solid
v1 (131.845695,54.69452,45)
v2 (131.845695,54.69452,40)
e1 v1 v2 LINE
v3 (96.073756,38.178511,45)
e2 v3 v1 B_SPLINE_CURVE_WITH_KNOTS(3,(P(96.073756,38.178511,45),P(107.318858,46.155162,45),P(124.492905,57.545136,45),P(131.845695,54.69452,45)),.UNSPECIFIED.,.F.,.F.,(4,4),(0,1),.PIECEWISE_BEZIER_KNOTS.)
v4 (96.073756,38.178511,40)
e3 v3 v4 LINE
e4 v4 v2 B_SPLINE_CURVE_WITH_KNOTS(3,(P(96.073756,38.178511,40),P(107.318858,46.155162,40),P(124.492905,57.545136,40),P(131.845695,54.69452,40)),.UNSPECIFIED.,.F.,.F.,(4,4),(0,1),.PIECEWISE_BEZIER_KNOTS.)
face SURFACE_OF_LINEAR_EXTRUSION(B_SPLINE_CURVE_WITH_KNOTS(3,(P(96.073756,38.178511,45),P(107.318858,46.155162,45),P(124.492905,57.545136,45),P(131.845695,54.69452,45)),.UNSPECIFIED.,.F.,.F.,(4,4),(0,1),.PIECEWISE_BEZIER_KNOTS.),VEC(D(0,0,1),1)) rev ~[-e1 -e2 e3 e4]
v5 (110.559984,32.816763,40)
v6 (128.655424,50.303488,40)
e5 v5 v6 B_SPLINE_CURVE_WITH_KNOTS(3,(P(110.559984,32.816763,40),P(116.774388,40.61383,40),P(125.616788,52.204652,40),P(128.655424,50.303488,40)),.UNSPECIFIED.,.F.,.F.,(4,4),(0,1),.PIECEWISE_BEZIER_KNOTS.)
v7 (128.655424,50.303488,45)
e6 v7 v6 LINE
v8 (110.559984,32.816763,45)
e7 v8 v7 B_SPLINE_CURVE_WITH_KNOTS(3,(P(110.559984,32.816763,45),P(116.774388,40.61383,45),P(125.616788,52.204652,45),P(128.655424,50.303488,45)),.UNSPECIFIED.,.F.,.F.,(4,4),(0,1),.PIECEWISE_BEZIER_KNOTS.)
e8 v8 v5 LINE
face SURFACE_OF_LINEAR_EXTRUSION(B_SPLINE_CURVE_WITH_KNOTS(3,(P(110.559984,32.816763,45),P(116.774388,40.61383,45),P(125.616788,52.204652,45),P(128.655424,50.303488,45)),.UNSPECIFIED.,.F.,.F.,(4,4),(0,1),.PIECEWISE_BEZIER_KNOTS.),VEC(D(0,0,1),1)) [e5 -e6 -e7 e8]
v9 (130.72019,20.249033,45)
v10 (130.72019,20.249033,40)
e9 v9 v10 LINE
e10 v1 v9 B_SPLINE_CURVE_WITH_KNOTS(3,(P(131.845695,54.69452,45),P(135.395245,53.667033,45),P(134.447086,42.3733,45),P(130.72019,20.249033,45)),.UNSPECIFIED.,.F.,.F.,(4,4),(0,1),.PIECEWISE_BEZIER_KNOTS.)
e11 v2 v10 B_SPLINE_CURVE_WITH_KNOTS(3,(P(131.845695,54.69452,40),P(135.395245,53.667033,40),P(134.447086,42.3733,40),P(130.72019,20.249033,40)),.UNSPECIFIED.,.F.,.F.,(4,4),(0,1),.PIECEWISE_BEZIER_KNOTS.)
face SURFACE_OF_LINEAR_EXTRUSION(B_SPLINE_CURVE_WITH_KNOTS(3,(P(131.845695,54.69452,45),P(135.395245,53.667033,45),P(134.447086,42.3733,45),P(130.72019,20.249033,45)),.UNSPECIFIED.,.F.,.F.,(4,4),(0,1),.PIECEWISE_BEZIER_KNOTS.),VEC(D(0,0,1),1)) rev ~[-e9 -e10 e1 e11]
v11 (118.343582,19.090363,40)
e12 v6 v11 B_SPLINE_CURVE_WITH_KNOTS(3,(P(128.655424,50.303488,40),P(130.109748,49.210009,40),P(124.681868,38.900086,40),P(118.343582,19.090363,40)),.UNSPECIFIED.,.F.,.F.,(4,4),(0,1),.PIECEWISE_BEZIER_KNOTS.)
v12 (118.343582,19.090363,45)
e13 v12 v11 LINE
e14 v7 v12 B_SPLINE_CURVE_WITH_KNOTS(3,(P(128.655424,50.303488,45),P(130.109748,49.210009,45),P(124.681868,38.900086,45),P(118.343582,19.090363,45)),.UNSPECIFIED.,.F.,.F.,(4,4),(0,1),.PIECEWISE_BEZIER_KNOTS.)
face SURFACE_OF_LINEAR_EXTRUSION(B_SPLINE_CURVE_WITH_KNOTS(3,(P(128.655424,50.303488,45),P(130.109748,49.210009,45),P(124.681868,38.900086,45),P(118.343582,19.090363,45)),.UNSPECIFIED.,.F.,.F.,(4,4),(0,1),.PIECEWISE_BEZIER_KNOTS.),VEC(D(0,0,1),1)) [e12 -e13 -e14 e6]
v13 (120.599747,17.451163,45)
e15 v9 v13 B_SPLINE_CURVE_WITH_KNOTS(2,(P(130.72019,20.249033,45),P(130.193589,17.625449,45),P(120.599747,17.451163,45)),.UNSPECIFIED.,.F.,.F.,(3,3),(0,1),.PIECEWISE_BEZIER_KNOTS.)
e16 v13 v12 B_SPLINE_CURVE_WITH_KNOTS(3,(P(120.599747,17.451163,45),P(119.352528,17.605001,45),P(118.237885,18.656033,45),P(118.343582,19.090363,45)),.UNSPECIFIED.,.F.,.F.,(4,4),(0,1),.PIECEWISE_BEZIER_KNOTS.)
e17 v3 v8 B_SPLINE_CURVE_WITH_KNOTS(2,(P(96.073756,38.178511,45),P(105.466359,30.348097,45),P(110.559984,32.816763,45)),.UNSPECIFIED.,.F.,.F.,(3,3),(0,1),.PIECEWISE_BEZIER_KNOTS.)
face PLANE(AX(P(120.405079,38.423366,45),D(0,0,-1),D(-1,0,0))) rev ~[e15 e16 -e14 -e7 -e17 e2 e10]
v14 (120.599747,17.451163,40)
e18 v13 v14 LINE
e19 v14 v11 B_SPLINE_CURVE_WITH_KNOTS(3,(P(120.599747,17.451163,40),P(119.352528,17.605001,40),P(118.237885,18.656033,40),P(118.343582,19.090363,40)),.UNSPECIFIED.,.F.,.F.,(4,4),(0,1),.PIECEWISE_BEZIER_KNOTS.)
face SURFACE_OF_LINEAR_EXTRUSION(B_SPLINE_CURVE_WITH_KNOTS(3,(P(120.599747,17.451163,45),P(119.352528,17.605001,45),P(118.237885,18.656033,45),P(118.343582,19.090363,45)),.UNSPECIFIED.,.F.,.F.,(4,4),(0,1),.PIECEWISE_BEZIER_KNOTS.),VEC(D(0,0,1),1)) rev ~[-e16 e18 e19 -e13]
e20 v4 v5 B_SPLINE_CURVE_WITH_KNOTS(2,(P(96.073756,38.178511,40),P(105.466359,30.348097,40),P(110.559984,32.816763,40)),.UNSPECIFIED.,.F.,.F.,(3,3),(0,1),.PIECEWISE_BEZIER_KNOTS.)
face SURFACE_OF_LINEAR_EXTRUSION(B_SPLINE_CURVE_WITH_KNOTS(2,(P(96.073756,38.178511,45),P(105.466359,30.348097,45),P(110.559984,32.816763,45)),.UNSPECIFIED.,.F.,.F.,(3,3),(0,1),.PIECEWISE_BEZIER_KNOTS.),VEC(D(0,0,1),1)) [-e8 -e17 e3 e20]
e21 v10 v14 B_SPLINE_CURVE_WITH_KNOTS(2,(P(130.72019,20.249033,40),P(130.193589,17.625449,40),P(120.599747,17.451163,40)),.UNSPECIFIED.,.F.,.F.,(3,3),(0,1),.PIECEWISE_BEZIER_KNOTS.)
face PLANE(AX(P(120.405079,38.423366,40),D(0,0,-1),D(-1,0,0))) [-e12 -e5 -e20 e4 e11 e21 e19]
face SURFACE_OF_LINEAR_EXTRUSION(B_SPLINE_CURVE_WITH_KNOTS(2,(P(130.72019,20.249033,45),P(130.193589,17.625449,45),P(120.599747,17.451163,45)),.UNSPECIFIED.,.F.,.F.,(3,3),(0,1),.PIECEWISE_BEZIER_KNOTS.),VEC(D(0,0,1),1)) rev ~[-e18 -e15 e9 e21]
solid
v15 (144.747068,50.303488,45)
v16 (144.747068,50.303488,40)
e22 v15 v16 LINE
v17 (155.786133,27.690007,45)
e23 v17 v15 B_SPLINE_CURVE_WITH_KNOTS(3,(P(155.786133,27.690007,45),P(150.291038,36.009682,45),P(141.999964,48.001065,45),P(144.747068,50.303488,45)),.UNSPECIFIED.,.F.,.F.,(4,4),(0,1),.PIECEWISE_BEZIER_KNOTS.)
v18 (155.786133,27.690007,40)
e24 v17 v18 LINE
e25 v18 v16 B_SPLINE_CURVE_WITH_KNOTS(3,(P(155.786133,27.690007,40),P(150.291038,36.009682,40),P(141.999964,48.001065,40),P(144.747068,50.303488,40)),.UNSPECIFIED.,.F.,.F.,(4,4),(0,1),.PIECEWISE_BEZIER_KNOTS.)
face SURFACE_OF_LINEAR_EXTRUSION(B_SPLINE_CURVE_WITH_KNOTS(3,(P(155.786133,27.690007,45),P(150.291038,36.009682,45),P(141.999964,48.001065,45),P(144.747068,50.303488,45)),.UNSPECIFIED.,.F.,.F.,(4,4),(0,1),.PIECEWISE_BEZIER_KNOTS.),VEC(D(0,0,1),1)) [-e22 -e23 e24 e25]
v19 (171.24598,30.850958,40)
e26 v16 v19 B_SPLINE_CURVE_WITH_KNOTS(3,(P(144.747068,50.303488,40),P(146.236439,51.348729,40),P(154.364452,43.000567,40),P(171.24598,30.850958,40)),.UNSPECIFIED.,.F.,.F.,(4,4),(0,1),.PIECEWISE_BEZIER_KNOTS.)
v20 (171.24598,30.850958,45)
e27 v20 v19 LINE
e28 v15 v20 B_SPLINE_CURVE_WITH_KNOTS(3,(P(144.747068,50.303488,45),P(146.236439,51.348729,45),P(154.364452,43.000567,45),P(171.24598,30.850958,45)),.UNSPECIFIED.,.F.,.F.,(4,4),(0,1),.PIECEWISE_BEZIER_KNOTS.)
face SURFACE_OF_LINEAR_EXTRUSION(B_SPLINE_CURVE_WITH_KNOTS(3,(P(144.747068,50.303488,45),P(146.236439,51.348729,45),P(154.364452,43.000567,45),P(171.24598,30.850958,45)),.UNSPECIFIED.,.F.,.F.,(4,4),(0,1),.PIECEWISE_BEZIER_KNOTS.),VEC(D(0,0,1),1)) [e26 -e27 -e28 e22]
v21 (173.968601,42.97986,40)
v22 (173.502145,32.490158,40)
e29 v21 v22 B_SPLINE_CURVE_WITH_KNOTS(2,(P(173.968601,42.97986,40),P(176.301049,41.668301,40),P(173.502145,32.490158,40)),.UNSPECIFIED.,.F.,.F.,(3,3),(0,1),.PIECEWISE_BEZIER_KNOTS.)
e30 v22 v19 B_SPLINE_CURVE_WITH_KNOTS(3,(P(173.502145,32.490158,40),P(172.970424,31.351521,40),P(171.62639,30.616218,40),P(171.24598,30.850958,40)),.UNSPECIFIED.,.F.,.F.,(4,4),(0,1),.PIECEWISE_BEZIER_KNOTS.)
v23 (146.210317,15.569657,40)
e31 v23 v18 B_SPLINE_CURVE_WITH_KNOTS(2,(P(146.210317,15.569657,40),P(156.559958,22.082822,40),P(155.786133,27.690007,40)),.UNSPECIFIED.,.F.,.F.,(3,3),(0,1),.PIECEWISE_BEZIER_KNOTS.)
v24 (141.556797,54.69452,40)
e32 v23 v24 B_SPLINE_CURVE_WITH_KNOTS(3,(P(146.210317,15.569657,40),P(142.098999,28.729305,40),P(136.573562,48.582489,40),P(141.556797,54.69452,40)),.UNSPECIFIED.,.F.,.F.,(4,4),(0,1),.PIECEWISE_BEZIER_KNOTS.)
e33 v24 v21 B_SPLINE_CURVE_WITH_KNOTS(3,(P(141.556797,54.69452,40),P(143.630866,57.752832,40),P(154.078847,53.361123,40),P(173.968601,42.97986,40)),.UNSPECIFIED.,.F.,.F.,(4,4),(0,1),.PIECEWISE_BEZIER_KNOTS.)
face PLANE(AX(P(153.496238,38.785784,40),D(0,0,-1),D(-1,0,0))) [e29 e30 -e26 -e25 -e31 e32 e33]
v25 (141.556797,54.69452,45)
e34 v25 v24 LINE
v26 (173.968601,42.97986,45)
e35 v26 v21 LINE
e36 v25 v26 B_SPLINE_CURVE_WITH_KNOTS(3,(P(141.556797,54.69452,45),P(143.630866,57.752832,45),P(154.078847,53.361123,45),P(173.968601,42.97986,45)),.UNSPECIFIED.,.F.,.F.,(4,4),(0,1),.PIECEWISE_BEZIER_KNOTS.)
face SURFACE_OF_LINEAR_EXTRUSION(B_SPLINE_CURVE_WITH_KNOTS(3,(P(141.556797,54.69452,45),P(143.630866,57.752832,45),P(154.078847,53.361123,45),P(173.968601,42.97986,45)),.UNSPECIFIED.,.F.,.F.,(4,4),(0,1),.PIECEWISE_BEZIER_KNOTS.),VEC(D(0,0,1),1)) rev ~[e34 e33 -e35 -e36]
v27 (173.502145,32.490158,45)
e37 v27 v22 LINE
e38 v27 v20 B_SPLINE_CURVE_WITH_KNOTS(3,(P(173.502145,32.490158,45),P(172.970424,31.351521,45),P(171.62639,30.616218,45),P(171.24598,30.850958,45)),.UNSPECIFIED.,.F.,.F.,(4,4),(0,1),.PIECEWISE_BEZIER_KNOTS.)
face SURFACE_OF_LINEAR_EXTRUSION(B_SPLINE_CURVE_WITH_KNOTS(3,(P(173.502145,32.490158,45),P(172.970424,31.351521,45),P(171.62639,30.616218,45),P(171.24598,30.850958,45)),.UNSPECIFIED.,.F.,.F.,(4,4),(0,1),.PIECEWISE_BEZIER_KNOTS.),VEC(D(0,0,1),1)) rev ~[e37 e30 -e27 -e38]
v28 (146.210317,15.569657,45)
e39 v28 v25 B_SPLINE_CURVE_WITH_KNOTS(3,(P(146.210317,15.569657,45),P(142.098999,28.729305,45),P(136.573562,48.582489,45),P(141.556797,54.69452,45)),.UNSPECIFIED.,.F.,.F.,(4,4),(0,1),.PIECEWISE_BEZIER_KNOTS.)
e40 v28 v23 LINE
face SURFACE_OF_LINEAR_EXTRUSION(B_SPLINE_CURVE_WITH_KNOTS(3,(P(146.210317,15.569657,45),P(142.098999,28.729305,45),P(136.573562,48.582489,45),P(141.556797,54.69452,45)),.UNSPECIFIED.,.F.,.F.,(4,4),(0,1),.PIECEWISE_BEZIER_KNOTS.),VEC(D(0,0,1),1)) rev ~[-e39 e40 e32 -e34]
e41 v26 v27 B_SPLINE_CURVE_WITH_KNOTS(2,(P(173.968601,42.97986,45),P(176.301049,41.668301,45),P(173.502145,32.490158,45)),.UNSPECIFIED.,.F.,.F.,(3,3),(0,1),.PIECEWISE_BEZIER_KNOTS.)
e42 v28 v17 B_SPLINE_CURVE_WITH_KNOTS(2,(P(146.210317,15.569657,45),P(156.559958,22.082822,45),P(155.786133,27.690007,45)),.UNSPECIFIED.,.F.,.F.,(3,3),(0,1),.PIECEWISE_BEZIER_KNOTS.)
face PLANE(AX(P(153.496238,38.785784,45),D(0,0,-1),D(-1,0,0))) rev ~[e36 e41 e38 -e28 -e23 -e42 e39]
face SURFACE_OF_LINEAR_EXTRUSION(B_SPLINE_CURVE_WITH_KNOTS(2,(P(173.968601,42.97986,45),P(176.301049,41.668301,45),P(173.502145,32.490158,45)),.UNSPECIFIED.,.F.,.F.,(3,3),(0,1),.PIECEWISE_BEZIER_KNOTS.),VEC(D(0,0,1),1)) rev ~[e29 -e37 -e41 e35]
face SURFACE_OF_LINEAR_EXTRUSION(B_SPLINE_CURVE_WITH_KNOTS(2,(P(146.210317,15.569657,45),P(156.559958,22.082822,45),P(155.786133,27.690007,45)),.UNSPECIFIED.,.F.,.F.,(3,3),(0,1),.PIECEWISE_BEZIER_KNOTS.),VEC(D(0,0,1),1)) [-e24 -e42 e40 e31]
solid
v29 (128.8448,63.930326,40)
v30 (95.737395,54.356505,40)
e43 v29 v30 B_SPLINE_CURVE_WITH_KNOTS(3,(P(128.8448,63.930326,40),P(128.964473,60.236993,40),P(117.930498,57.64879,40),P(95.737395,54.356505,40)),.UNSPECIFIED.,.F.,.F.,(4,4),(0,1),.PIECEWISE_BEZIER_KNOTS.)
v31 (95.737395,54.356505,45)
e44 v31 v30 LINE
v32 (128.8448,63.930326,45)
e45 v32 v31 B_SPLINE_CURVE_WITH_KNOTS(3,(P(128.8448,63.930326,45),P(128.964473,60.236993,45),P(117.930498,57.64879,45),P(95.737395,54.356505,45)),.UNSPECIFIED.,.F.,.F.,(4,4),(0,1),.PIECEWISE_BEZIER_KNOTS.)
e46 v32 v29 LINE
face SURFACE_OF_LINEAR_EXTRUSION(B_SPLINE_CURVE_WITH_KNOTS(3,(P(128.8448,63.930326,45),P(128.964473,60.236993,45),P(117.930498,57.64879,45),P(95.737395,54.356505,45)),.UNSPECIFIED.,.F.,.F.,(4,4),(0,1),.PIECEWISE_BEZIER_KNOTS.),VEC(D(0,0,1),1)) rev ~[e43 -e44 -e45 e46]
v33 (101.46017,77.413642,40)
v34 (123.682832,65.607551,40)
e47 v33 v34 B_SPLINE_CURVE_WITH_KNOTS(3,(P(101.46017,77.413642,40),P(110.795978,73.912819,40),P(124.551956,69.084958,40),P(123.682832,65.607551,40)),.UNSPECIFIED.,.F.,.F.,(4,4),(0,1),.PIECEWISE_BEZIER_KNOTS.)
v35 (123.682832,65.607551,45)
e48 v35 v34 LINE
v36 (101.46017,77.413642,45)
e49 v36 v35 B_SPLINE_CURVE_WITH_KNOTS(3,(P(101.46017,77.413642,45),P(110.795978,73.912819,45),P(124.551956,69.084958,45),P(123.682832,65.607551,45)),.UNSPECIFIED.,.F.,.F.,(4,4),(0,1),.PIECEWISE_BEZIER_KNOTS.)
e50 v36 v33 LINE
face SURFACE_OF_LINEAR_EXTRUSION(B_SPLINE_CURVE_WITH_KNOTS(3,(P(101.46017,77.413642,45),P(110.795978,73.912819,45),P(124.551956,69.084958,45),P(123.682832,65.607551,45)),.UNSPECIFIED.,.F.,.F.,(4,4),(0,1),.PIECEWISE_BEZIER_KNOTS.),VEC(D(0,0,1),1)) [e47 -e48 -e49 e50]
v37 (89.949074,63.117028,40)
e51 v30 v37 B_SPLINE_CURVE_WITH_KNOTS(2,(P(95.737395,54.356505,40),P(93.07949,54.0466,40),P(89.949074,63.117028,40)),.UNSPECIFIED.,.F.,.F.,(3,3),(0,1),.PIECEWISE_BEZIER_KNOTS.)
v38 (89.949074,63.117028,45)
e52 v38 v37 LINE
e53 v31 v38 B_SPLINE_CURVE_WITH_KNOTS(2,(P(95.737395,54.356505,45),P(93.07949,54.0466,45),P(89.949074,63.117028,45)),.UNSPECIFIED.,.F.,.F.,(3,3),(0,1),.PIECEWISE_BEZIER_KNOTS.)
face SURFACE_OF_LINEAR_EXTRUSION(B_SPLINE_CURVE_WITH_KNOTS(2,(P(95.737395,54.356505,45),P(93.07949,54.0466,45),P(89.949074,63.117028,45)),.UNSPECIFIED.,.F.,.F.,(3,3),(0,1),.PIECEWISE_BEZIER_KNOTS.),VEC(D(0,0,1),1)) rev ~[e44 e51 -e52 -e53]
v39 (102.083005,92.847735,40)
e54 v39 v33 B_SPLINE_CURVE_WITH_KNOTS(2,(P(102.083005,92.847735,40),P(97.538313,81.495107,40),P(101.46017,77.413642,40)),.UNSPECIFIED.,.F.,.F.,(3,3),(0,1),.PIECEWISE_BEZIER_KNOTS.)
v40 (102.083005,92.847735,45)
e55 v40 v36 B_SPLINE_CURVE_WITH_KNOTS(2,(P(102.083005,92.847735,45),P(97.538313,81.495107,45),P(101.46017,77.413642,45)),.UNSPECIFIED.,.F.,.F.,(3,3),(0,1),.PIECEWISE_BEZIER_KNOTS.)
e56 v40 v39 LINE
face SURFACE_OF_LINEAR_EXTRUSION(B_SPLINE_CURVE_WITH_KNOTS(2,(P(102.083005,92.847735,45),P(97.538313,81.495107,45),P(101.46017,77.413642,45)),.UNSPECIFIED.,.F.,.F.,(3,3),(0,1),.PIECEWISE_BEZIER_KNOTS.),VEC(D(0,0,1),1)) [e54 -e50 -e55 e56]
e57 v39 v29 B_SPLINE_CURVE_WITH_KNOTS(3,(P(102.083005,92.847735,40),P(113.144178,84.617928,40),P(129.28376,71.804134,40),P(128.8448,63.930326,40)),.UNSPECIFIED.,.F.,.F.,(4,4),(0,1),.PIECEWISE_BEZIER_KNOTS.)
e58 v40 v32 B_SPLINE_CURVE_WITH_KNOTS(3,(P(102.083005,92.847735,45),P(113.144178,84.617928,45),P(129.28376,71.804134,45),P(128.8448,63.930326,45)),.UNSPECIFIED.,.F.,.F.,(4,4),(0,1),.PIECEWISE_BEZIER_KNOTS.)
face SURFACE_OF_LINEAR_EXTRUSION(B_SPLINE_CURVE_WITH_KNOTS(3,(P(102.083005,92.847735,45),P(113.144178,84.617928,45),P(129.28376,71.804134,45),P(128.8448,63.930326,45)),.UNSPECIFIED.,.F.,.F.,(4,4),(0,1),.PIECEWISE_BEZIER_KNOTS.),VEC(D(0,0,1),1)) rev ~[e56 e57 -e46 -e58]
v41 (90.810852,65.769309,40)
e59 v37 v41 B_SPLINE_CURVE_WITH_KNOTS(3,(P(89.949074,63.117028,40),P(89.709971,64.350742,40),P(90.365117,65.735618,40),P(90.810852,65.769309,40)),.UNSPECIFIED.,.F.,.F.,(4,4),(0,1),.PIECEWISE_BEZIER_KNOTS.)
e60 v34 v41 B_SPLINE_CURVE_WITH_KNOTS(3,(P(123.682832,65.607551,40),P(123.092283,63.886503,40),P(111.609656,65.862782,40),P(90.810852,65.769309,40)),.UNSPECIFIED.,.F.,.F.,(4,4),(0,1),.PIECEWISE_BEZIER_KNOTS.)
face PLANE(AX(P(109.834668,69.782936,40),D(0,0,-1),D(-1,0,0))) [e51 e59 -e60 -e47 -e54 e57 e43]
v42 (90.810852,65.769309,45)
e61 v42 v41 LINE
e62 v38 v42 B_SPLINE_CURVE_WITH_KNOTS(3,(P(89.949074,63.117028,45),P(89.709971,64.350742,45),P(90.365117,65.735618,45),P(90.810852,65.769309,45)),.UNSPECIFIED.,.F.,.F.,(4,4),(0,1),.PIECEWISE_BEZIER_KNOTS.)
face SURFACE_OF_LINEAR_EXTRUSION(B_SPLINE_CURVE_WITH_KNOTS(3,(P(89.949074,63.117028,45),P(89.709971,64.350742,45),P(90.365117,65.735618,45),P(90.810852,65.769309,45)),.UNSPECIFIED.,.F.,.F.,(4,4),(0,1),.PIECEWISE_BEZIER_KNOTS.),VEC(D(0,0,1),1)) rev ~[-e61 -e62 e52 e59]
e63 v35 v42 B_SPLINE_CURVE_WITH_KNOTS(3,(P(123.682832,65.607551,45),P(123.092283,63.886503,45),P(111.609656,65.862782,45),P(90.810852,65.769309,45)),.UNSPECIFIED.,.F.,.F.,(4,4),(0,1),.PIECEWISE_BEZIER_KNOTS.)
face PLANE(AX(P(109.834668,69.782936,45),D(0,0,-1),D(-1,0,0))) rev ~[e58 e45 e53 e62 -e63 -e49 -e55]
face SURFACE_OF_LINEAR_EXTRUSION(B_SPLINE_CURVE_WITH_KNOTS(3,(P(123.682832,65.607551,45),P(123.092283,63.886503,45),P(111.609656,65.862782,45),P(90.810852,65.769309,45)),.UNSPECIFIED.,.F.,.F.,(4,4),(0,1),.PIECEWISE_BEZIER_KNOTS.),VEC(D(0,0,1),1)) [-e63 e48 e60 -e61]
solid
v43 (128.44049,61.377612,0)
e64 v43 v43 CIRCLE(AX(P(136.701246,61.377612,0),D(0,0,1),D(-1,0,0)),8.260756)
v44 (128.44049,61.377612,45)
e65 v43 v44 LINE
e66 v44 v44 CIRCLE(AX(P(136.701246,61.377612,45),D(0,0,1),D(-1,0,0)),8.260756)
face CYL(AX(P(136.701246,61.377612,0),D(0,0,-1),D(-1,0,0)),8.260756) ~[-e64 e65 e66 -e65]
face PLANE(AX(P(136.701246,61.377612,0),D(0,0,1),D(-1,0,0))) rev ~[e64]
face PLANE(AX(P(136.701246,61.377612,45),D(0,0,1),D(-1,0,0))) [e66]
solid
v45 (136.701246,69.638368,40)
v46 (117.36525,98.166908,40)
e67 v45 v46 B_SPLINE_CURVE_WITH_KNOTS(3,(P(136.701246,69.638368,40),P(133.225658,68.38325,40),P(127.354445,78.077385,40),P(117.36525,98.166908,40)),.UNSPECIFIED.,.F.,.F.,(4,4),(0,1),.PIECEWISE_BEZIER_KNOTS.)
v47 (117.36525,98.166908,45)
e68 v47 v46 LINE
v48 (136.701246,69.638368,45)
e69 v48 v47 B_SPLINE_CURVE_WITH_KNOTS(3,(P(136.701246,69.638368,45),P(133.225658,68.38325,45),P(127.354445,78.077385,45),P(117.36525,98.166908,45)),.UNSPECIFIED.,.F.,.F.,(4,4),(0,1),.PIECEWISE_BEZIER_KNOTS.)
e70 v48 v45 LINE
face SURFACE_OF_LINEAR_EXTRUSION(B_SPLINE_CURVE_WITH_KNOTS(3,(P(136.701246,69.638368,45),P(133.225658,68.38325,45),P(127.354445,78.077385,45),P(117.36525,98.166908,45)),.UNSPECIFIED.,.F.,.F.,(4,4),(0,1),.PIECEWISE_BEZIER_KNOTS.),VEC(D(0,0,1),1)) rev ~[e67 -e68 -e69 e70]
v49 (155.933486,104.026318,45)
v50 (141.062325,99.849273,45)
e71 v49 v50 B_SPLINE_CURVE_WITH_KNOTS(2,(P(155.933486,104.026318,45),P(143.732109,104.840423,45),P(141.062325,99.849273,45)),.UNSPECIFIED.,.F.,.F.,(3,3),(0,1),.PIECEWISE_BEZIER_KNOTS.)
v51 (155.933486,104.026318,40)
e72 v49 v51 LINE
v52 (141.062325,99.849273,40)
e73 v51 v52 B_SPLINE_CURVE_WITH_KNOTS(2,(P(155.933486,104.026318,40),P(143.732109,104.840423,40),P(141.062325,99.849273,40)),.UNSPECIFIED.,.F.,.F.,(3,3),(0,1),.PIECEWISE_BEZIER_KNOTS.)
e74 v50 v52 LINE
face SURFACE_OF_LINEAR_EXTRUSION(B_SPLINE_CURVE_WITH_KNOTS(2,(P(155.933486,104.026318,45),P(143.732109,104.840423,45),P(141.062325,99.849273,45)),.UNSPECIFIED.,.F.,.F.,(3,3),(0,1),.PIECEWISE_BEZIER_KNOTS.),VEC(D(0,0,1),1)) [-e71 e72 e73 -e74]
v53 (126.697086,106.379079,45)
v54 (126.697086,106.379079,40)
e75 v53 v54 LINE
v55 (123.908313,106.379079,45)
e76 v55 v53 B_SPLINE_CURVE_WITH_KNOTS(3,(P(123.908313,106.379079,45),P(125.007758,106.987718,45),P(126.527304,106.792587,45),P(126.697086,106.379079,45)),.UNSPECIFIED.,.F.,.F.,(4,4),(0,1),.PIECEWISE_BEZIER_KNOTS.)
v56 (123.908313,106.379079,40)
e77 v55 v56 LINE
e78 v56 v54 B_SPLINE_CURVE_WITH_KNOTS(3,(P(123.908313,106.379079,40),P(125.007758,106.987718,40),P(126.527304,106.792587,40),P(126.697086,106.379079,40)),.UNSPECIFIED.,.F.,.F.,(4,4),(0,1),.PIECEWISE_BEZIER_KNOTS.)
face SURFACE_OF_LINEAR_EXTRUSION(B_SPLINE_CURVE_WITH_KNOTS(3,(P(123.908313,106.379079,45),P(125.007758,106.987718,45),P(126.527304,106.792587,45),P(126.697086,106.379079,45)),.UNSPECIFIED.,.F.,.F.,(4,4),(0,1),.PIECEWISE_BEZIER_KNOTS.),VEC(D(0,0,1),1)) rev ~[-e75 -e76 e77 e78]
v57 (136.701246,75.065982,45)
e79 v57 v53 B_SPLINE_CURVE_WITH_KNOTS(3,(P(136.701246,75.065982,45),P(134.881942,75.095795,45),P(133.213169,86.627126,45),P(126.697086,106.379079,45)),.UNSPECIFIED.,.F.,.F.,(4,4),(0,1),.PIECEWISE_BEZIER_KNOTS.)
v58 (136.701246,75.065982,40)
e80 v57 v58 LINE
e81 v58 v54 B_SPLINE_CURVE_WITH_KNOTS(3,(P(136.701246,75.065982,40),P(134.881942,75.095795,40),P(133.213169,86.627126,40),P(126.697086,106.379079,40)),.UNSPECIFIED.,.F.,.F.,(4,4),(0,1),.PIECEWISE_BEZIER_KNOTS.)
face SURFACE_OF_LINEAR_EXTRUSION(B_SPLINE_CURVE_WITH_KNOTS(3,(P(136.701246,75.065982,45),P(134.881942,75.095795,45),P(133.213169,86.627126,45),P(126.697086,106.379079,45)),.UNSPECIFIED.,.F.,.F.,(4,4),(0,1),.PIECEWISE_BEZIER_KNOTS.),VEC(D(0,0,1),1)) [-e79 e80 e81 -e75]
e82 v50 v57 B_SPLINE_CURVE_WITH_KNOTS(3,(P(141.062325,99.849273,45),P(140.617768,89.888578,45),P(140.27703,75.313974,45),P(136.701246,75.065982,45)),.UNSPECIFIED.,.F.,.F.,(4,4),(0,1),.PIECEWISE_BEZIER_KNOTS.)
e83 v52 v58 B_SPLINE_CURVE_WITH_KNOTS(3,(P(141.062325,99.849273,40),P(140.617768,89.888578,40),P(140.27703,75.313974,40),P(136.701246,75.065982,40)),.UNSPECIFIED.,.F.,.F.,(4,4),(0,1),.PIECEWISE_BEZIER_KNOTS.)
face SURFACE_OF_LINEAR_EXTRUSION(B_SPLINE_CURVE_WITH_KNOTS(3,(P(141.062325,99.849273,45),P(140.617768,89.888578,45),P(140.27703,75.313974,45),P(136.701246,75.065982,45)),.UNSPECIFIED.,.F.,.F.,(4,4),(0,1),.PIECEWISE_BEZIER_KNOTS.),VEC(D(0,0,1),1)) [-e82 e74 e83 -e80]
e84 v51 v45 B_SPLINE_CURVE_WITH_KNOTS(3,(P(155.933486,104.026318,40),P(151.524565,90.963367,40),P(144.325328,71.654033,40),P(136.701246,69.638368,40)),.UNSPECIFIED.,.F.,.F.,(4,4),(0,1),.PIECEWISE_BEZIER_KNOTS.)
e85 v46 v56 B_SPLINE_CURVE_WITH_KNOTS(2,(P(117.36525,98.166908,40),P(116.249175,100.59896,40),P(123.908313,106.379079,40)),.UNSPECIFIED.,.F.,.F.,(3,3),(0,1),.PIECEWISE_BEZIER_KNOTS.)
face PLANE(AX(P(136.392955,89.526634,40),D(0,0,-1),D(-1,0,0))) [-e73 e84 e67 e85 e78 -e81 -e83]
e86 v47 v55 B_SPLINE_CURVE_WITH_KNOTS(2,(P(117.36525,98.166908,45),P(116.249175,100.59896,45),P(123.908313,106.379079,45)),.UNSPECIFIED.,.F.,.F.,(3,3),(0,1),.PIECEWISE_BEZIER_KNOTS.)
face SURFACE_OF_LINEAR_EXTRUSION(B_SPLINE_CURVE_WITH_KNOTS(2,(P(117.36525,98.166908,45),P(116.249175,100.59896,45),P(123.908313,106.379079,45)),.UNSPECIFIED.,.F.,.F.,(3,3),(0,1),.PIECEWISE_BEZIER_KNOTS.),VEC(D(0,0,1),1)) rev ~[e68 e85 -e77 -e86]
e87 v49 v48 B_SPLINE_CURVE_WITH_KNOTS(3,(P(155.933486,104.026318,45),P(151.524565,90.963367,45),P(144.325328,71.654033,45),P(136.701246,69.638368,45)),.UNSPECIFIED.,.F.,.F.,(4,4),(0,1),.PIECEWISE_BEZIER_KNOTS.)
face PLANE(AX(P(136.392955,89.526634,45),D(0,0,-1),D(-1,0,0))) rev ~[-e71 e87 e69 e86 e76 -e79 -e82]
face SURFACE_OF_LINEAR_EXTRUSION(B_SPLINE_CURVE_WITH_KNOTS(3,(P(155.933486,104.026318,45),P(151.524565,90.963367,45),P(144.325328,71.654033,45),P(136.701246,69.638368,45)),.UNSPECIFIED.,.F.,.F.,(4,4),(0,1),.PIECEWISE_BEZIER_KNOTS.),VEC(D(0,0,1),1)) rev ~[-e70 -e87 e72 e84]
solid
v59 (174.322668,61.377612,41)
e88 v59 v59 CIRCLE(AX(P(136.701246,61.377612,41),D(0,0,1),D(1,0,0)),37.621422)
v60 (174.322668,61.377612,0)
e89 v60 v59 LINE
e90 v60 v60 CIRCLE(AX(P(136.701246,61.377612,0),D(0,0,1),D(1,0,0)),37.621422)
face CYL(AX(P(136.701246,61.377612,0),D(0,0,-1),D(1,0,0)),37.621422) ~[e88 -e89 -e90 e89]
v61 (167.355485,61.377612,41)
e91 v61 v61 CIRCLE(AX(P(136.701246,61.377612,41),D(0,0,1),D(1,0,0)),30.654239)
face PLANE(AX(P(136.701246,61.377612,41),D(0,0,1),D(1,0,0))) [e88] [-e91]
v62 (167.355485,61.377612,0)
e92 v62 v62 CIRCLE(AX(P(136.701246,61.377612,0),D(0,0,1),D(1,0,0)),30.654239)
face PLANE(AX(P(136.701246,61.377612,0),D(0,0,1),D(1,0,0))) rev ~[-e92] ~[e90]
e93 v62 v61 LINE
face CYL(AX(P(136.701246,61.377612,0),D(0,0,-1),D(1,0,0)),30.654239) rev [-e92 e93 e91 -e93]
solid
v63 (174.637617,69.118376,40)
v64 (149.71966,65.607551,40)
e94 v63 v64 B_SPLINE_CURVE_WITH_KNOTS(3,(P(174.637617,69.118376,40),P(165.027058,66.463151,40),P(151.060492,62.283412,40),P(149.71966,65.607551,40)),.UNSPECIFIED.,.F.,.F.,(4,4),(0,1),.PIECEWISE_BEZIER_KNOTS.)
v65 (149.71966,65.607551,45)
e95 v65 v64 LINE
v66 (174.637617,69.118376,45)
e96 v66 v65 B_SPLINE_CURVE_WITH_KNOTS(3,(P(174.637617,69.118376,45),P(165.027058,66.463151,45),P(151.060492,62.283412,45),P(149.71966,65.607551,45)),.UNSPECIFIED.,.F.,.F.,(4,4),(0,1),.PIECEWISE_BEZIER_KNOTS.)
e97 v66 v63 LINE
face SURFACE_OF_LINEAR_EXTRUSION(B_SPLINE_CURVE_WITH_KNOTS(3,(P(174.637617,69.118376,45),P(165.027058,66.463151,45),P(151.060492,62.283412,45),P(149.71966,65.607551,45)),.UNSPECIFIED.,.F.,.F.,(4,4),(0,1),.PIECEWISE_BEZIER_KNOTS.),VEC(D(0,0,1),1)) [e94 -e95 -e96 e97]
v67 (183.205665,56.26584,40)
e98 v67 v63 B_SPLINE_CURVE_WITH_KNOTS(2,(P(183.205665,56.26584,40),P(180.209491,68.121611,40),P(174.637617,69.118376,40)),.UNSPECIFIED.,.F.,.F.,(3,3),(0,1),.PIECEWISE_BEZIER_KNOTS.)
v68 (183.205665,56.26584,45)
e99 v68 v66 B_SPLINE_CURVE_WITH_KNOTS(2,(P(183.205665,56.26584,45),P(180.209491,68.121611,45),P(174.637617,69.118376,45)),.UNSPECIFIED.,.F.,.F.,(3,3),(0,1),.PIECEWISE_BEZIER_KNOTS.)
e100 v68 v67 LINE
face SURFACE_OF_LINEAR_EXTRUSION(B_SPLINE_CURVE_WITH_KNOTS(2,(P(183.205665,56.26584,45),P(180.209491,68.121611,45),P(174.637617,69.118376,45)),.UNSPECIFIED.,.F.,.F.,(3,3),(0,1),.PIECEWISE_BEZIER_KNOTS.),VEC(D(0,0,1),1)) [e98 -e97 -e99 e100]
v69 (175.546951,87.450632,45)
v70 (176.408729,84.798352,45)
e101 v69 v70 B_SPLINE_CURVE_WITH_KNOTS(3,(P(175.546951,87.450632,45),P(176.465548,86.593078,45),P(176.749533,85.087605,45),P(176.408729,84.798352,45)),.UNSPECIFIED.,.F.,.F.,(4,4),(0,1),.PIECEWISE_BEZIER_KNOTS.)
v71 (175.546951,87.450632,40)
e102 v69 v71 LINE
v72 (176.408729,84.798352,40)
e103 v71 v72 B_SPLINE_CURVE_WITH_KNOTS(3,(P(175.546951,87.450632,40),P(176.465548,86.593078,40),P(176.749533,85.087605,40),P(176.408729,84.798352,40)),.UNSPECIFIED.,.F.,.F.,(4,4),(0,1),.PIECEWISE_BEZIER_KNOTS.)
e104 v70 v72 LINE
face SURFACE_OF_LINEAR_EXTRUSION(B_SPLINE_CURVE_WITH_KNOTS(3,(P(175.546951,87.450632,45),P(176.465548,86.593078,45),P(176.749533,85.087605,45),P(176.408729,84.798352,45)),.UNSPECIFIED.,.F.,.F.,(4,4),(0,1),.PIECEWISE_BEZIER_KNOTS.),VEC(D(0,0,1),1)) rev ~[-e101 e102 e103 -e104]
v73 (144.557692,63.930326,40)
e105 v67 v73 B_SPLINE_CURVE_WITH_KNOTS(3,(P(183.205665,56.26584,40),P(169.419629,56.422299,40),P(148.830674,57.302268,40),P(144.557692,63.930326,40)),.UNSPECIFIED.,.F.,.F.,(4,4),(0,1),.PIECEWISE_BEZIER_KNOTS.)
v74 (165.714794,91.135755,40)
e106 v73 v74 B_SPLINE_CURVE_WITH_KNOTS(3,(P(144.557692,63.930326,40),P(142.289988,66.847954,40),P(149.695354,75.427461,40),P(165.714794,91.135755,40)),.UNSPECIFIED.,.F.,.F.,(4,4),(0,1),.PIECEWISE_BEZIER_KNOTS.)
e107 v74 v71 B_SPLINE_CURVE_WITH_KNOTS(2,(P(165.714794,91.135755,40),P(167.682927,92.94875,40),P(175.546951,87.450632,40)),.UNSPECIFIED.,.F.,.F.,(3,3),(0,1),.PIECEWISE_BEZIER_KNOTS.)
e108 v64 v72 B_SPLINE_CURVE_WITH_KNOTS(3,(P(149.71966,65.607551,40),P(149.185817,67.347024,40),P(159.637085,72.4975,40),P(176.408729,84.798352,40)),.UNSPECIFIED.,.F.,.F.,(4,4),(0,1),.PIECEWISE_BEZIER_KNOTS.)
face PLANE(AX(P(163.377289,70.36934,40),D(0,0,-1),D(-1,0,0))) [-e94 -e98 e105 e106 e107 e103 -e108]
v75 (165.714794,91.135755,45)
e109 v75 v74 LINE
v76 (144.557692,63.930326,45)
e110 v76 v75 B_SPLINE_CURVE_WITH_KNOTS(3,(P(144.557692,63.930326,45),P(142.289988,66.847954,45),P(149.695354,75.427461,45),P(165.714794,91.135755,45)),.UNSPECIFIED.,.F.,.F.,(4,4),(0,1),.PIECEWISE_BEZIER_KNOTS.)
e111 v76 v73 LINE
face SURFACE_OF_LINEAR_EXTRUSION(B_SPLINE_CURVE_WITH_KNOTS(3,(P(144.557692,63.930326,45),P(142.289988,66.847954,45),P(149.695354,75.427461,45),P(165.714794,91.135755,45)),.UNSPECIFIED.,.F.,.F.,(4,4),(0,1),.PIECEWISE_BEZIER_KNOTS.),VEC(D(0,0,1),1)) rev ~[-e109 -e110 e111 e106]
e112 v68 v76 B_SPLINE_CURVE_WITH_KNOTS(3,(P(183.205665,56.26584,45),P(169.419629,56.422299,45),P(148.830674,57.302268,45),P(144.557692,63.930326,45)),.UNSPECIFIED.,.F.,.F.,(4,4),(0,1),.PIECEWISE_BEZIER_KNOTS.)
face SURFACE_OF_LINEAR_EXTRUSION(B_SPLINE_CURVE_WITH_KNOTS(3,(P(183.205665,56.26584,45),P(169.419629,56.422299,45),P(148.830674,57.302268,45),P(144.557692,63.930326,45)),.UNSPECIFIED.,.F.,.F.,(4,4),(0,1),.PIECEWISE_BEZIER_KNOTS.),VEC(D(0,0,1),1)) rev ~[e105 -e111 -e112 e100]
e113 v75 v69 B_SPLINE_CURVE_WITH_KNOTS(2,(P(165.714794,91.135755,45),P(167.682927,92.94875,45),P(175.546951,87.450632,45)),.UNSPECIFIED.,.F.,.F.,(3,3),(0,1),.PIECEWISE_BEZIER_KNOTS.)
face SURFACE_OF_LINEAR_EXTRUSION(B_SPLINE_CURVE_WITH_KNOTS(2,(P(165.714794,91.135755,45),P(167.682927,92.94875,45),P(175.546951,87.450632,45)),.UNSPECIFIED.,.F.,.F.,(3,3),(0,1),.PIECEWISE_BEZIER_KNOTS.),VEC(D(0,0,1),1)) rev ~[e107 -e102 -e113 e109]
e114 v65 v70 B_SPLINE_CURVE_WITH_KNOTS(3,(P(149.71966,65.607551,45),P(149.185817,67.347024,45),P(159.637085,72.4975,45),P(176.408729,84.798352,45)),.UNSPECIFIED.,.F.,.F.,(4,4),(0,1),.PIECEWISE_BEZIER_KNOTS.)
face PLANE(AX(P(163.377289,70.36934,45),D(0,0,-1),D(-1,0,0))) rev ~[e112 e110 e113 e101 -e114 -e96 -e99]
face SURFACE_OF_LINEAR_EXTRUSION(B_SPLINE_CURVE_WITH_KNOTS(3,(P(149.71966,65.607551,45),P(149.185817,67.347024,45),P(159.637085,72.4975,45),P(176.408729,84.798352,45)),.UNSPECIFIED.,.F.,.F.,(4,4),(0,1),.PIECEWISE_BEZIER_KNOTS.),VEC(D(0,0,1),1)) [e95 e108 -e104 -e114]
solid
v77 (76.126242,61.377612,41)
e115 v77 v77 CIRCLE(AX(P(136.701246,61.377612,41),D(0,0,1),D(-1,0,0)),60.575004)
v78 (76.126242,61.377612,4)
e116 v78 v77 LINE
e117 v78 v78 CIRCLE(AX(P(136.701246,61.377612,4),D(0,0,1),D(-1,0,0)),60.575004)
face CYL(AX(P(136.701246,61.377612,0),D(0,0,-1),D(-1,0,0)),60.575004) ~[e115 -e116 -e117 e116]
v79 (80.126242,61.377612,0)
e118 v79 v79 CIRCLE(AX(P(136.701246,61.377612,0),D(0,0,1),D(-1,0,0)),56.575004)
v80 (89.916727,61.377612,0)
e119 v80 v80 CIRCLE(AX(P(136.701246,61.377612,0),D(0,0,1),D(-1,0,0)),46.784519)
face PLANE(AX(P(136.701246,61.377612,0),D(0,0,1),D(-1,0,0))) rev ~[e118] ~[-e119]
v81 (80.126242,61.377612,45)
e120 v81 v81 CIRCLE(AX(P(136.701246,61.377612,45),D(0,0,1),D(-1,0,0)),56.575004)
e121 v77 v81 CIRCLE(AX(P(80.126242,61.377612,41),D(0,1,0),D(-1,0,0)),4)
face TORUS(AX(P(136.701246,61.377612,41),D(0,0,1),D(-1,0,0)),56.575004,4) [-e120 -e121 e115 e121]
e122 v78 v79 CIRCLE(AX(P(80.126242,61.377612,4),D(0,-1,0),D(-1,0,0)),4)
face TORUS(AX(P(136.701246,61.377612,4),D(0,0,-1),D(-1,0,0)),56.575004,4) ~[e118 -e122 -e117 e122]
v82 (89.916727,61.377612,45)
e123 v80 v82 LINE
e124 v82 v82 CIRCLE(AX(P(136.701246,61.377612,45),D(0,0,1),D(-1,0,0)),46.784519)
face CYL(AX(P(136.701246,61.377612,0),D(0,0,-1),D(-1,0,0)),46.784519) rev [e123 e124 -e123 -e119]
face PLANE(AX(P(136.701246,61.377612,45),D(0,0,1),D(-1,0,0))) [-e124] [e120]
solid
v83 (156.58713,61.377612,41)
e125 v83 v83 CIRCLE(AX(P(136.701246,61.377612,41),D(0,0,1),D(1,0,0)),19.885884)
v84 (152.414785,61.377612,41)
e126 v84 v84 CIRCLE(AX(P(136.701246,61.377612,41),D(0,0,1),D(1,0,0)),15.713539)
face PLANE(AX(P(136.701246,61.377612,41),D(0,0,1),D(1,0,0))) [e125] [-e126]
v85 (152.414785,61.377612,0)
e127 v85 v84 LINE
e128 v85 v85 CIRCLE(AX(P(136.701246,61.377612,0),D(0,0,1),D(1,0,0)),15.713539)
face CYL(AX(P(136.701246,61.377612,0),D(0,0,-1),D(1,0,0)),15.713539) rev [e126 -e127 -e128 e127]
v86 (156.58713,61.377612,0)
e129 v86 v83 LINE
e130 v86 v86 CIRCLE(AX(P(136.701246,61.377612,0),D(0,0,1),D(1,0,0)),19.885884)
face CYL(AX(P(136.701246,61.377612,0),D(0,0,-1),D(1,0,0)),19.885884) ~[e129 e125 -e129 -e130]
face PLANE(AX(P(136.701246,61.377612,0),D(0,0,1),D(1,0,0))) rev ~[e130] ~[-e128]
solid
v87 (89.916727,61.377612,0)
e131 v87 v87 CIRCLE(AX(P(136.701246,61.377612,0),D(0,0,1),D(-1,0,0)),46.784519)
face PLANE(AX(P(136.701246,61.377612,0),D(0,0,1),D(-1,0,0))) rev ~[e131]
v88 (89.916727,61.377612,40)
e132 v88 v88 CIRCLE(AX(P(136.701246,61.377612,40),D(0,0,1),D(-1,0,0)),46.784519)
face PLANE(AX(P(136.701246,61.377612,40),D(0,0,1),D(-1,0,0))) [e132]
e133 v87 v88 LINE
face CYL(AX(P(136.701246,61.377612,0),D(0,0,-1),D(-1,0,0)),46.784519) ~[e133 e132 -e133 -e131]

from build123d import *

# Parameters (mm, degrees)
SKETCH1_R              = 60.575003721
SKETCH1_R_2            = 46.784518766
BOSS_EXTRUDE1_DEPTH    = 45
FILLET1_R              = 4
BOSS_EXTRUDE6_DEPTH    = 5
BOSS_EXTRUDE6_2_DEPTH  = 5
BOSS_EXTRUDE6_3_DEPTH  = 5
BOSS_EXTRUDE6_4_DEPTH  = 5
BOSS_EXTRUDE6_5_DEPTH  = 5
SKETCH8_R              = 46.784518766
BOSS_EXTRUDE8_DEPTH    = 40
SKETCH9_R              = 8.26075631
BOSS_EXTRUDE10_DEPTH   = 45
SKETCH10_R             = 19.885884078
SKETCH10_R_2           = 15.713539043
BOSS_EXTRUDE12_DEPTH   = 41
SKETCH10_R_3           = 37.621422263
SKETCH10_R_4           = 30.654239113
BOSS_EXTRUDE12_2_DEPTH = 41


with BuildPart() as part:
    # Sketch1 → Boss-Extrude1 (new body)
    with BuildSketch(Plane.XY):
        with Locations(Location((136.701245964, 61.377612126, 0), (0, 0, 180))):
            Circle(SKETCH1_R)
        with Locations(Location((136.701245964, 61.377612126, 0), (0, 0, 180))):
            Circle(SKETCH1_R_2, mode=Mode.SUBTRACT)
    extrude(amount=BOSS_EXTRUDE1_DEPTH)

    # Fillet1
    fillet1_edges = [part.edges().sort_by_distance(p)[0] for p in [
        (197.276249685, 61.377612126, 0),
        (197.276249685, 61.377612126, 45),
    ]]
    fillet(fillet1_edges, radius=FILLET1_R)


with BuildPart() as body_2:
    # Sketch7 → Boss-Extrude6 (new body)
    with BuildSketch(Plane.XY.offset(45)):
        with BuildLine():
            add(Edge.make_bspline(
                [(155.93348632, 104.026318167), (151.524565265, 90.963367321), (144.325328489, 71.654033304), (136.701245964, 69.638368436)],
                knots=[0, 0, 0, 0, 1, 1, 1, 1], degree=3))
            add(Edge.make_bspline(
                [(136.701245964, 69.638368436), (133.225658151, 68.383249689), (127.35444534, 78.077385331), (117.365249602, 98.166908271)],
                knots=[0, 0, 0, 0, 1, 1, 1, 1], degree=3))
            add(Edge.make_bspline(
                [(117.365249602, 98.166908271), (116.249175053, 100.598960045), (123.908313082, 106.379079484)],
                knots=[0, 0, 0, 1, 1, 1], degree=2))
            add(Edge.make_bspline(
                [(123.908313082, 106.379079484), (125.007758265, 106.987718373), (126.527304327, 106.79258729), (126.697086347, 106.379079484)],
                knots=[0, 0, 0, 0, 1, 1, 1, 1], degree=3))
            add(Edge.make_bspline(
                [(136.701245964, 75.065982181), (134.881942078, 75.09579465), (133.213168559, 86.627125736), (126.697086347, 106.379079484)],
                knots=[0, 0, 0, 0, 1, 1, 1, 1], degree=3))
            add(Edge.make_bspline(
                [(141.062325166, 99.849272704), (140.617768037, 89.888577923), (140.277030252, 75.313973978), (136.701245964, 75.065982181)],
                knots=[0, 0, 0, 0, 1, 1, 1, 1], degree=3))
            add(Edge.make_bspline(
                [(155.93348632, 104.026318167), (143.732108684, 104.840422823), (141.062325166, 99.849272704)],
                knots=[0, 0, 0, 1, 1, 1], degree=2))
        make_face()
    extrude(amount=-BOSS_EXTRUDE6_DEPTH)


with BuildPart() as body_3:
    # Sketch7 → Boss-Extrude6 2 (new body)
    with BuildSketch(Plane.XY.offset(45)):
        with BuildLine():
            add(Edge.make_bspline(
                [(183.205664866, 56.265839567), (169.419628809, 56.422298859), (148.830674356, 57.302267545), (144.557692082, 63.930326212)],
                knots=[0, 0, 0, 0, 1, 1, 1, 1], degree=3))
            add(Edge.make_bspline(
                [(144.557692082, 63.930326212), (142.28998752, 66.847953627), (149.695353856, 75.427461489), (165.714794313, 91.135755185)],
                knots=[0, 0, 0, 0, 1, 1, 1, 1], degree=3))
            add(Edge.make_bspline(
                [(165.714794313, 91.135755185), (167.682926999, 92.948750487), (175.54695107, 87.450632491)],
                knots=[0, 0, 0, 1, 1, 1], degree=2))
            add(Edge.make_bspline(
                [(175.54695107, 87.450632491), (176.465548297, 86.593077746), (176.749533166, 85.087604741), (176.408729402, 84.798351505)],
                knots=[0, 0, 0, 0, 1, 1, 1, 1], degree=3))
            add(Edge.make_bspline(
                [(149.719659503, 65.607551098), (149.185817027, 67.347024474), (159.63708522, 72.497499676), (176.408729402, 84.798351505)],
                knots=[0, 0, 0, 0, 1, 1, 1, 1], degree=3))
            add(Edge.make_bspline(
                [(174.637617037, 69.118376254), (165.02705765, 66.463151244), (151.060491831, 62.28341183), (149.719659503, 65.607551098)],
                knots=[0, 0, 0, 0, 1, 1, 1, 1], degree=3))
            add(Edge.make_bspline(
                [(183.205664866, 56.265839567), (180.20949136, 68.12161145), (174.637617037, 69.118376254)],
                knots=[0, 0, 0, 1, 1, 1], degree=2))
        make_face()
    extrude(amount=-BOSS_EXTRUDE6_2_DEPTH)


with BuildPart() as body_4:
    # Sketch7 → Boss-Extrude6 3 (new body)
    with BuildSketch(Plane.XY.offset(45)):
        with BuildLine():
            add(Edge.make_bspline(
                [(146.210317116, 15.5696569), (142.098999318, 28.729304906), (136.57356245, 48.582489481), (141.556796696, 54.694519885)],
                knots=[0, 0, 0, 0, 1, 1, 1, 1], degree=3))
            add(Edge.make_bspline(
                [(141.556796696, 54.694519885), (143.630866013, 57.75283154), (154.078846919, 53.361123363), (173.968601341, 42.979859834)],
                knots=[0, 0, 0, 0, 1, 1, 1, 1], degree=3))
            add(Edge.make_bspline(
                [(173.968601341, 42.979859834), (176.301048783, 41.668300777), (173.502144918, 32.490157542)],
                knots=[0, 0, 0, 1, 1, 1], degree=2))
            add(Edge.make_bspline(
                [(173.502144918, 32.490157542), (172.970424044, 31.351520674), (171.626390283, 30.616218271), (171.245979954, 30.850957745)],
                knots=[0, 0, 0, 0, 1, 1, 1, 1], degree=3))
            add(Edge.make_bspline(
                [(144.747068011, 50.303488126), (146.236439102, 51.348729326), (154.36445159, 43.000566973), (171.245979954, 30.850957745)],
                knots=[0, 0, 0, 0, 1, 1, 1, 1], degree=3))
            add(Edge.make_bspline(
                [(155.786133495, 27.690006877), (150.291038272, 36.009682355), (141.999963675, 48.001065278), (144.747068011, 50.303488126)],
                knots=[0, 0, 0, 0, 1, 1, 1, 1], degree=3))
            add(Edge.make_bspline(
                [(146.210317116, 15.5696569), (156.55995769, 22.082822231), (155.786133495, 27.690006877)],
                knots=[0, 0, 0, 1, 1, 1], degree=2))
        make_face()
    extrude(amount=-BOSS_EXTRUDE6_3_DEPTH)


with BuildPart() as body_5:
    # Sketch7 → Boss-Extrude6 4 (new body)
    with BuildSketch(Plane.XY.offset(45)):
        with BuildLine():
            add(Edge.make_bspline(
                [(96.073756235, 38.1785114), (107.318858155, 46.155161856), (124.492904821, 57.545136022), (131.845695232, 54.694519885)],
                knots=[0, 0, 0, 0, 1, 1, 1, 1], degree=3))
            add(Edge.make_bspline(
                [(131.845695232, 54.694519885), (135.395245128, 53.667033021), (134.447086105, 42.373300237), (130.720189908, 20.249032833)],
                knots=[0, 0, 0, 0, 1, 1, 1, 1], degree=3))
            add(Edge.make_bspline(
                [(130.720189908, 20.249032833), (130.193589019, 17.625449457), (120.599747228, 17.45116298)],
                knots=[0, 0, 0, 1, 1, 1], degree=2))
            add(Edge.make_bspline(
                [(120.599747228, 17.45116298), (119.352528428, 17.605001439), (118.237885013, 18.656032567), (118.343582264, 19.090362776)],
                knots=[0, 0, 0, 0, 1, 1, 1, 1], degree=3))
            add(Edge.make_bspline(
                [(128.655423918, 50.303488126), (130.10974835, 49.210009338), (124.681868135, 38.900086058), (118.343582264, 19.090362776)],
                knots=[0, 0, 0, 0, 1, 1, 1, 1], degree=3))
            add(Edge.make_bspline(
                [(110.559984057, 32.816762955), (116.774387824, 40.613830185), (125.61678774, 52.204651817), (128.655423918, 50.303488126)],
                knots=[0, 0, 0, 0, 1, 1, 1, 1], degree=3))
            add(Edge.make_bspline(
                [(96.073756235, 38.1785114), (105.466359388, 30.348097066), (110.559984057, 32.816762955)],
                knots=[0, 0, 0, 1, 1, 1], degree=2))
        make_face()
    extrude(amount=-BOSS_EXTRUDE6_4_DEPTH)


with BuildPart() as body_6:
    # Sketch7 → Boss-Extrude6 5 (new body)
    with BuildSketch(Plane.XY.offset(45)):
        with BuildLine():
            add(Edge.make_bspline(
                [(102.083005282, 92.847734595), (113.144178273, 84.617927687), (129.283759705, 71.804134277), (128.844799846, 63.930326212)],
                knots=[0, 0, 0, 0, 1, 1, 1, 1], degree=3))
            add(Edge.make_bspline(
                [(128.844799846, 63.930326212), (128.964473009, 60.236992752), (117.9304976, 57.648790208), (95.737394656, 54.356504506)],
                knots=[0, 0, 0, 0, 1, 1, 1, 1], degree=3))
            add(Edge.make_bspline(
                [(95.737394656, 54.356504506), (93.079489966, 54.046599863), (89.949073522, 63.117028132)],
                knots=[0, 0, 0, 1, 1, 1], degree=2))
            add(Edge.make_bspline(
                [(89.949073522, 63.117028132), (89.709970786, 64.350742397), (90.365117031, 65.735617761), (90.810851854, 65.769309118)],
                knots=[0, 0, 0, 0, 1, 1, 1, 1], degree=3))
            add(Edge.make_bspline(
                [(123.682832425, 65.607551098), (123.092283264, 63.886502842), (111.609656316, 65.862782186), (90.810851854, 65.769309118)],
                knots=[0, 0, 0, 0, 1, 1, 1, 1], degree=3))
            add(Edge.make_bspline(
                [(101.460170066, 77.413641839), (110.795978037, 73.912818922), (124.551956324, 69.084957726), (123.682832425, 65.607551098)],
                knots=[0, 0, 0, 0, 1, 1, 1, 1], degree=3))
            add(Edge.make_bspline(
                [(102.083005282, 92.847734595), (97.5383127, 81.495107059), (101.460170066, 77.413641839)],
                knots=[0, 0, 0, 1, 1, 1], degree=2))
        make_face()
    extrude(amount=-BOSS_EXTRUDE6_5_DEPTH)


with BuildPart() as body_7:
    # Sketch8 → Boss-Extrude8 (new body)
    with BuildSketch(Plane.XY):
        with Locations(Location((136.701245964, 61.377612126, 0), (0, 0, 180))):
            Circle(SKETCH8_R)
    extrude(amount=BOSS_EXTRUDE8_DEPTH)


with BuildPart() as body_8:
    # Sketch9 → Boss-Extrude10 (new body)
    with BuildSketch(Plane.XY):
        with Locations(Location((136.701245964, 61.377612126, 0), (0, 0, 180))):
            Circle(SKETCH9_R)
    extrude(amount=BOSS_EXTRUDE10_DEPTH)


with BuildPart() as body_9:
    # Sketch10 → Boss-Extrude12 (new body)
    with BuildSketch(Plane.XY):
        with Locations((136.701245964, 61.377612126)):
            Circle(SKETCH10_R)
        with Locations((136.701245964, 61.377612126)):
            Circle(SKETCH10_R_2, mode=Mode.SUBTRACT)
    extrude(amount=BOSS_EXTRUDE12_DEPTH)


with BuildPart() as body_10:
    # Sketch10 → Boss-Extrude12 2 (new body)
    with BuildSketch(Plane.XY):
        with Locations((136.701245964, 61.377612126)):
            Circle(SKETCH10_R_3)
        with Locations((136.701245964, 61.377612126)):
            Circle(SKETCH10_R_4, mode=Mode.SUBTRACT)
    extrude(amount=BOSS_EXTRUDE12_2_DEPTH)


solid = Compound([part.part, body_2.part, body_3.part, body_4.part, body_5.part, body_6.part, body_7.part, body_8.part, body_9.part, body_10.part])
